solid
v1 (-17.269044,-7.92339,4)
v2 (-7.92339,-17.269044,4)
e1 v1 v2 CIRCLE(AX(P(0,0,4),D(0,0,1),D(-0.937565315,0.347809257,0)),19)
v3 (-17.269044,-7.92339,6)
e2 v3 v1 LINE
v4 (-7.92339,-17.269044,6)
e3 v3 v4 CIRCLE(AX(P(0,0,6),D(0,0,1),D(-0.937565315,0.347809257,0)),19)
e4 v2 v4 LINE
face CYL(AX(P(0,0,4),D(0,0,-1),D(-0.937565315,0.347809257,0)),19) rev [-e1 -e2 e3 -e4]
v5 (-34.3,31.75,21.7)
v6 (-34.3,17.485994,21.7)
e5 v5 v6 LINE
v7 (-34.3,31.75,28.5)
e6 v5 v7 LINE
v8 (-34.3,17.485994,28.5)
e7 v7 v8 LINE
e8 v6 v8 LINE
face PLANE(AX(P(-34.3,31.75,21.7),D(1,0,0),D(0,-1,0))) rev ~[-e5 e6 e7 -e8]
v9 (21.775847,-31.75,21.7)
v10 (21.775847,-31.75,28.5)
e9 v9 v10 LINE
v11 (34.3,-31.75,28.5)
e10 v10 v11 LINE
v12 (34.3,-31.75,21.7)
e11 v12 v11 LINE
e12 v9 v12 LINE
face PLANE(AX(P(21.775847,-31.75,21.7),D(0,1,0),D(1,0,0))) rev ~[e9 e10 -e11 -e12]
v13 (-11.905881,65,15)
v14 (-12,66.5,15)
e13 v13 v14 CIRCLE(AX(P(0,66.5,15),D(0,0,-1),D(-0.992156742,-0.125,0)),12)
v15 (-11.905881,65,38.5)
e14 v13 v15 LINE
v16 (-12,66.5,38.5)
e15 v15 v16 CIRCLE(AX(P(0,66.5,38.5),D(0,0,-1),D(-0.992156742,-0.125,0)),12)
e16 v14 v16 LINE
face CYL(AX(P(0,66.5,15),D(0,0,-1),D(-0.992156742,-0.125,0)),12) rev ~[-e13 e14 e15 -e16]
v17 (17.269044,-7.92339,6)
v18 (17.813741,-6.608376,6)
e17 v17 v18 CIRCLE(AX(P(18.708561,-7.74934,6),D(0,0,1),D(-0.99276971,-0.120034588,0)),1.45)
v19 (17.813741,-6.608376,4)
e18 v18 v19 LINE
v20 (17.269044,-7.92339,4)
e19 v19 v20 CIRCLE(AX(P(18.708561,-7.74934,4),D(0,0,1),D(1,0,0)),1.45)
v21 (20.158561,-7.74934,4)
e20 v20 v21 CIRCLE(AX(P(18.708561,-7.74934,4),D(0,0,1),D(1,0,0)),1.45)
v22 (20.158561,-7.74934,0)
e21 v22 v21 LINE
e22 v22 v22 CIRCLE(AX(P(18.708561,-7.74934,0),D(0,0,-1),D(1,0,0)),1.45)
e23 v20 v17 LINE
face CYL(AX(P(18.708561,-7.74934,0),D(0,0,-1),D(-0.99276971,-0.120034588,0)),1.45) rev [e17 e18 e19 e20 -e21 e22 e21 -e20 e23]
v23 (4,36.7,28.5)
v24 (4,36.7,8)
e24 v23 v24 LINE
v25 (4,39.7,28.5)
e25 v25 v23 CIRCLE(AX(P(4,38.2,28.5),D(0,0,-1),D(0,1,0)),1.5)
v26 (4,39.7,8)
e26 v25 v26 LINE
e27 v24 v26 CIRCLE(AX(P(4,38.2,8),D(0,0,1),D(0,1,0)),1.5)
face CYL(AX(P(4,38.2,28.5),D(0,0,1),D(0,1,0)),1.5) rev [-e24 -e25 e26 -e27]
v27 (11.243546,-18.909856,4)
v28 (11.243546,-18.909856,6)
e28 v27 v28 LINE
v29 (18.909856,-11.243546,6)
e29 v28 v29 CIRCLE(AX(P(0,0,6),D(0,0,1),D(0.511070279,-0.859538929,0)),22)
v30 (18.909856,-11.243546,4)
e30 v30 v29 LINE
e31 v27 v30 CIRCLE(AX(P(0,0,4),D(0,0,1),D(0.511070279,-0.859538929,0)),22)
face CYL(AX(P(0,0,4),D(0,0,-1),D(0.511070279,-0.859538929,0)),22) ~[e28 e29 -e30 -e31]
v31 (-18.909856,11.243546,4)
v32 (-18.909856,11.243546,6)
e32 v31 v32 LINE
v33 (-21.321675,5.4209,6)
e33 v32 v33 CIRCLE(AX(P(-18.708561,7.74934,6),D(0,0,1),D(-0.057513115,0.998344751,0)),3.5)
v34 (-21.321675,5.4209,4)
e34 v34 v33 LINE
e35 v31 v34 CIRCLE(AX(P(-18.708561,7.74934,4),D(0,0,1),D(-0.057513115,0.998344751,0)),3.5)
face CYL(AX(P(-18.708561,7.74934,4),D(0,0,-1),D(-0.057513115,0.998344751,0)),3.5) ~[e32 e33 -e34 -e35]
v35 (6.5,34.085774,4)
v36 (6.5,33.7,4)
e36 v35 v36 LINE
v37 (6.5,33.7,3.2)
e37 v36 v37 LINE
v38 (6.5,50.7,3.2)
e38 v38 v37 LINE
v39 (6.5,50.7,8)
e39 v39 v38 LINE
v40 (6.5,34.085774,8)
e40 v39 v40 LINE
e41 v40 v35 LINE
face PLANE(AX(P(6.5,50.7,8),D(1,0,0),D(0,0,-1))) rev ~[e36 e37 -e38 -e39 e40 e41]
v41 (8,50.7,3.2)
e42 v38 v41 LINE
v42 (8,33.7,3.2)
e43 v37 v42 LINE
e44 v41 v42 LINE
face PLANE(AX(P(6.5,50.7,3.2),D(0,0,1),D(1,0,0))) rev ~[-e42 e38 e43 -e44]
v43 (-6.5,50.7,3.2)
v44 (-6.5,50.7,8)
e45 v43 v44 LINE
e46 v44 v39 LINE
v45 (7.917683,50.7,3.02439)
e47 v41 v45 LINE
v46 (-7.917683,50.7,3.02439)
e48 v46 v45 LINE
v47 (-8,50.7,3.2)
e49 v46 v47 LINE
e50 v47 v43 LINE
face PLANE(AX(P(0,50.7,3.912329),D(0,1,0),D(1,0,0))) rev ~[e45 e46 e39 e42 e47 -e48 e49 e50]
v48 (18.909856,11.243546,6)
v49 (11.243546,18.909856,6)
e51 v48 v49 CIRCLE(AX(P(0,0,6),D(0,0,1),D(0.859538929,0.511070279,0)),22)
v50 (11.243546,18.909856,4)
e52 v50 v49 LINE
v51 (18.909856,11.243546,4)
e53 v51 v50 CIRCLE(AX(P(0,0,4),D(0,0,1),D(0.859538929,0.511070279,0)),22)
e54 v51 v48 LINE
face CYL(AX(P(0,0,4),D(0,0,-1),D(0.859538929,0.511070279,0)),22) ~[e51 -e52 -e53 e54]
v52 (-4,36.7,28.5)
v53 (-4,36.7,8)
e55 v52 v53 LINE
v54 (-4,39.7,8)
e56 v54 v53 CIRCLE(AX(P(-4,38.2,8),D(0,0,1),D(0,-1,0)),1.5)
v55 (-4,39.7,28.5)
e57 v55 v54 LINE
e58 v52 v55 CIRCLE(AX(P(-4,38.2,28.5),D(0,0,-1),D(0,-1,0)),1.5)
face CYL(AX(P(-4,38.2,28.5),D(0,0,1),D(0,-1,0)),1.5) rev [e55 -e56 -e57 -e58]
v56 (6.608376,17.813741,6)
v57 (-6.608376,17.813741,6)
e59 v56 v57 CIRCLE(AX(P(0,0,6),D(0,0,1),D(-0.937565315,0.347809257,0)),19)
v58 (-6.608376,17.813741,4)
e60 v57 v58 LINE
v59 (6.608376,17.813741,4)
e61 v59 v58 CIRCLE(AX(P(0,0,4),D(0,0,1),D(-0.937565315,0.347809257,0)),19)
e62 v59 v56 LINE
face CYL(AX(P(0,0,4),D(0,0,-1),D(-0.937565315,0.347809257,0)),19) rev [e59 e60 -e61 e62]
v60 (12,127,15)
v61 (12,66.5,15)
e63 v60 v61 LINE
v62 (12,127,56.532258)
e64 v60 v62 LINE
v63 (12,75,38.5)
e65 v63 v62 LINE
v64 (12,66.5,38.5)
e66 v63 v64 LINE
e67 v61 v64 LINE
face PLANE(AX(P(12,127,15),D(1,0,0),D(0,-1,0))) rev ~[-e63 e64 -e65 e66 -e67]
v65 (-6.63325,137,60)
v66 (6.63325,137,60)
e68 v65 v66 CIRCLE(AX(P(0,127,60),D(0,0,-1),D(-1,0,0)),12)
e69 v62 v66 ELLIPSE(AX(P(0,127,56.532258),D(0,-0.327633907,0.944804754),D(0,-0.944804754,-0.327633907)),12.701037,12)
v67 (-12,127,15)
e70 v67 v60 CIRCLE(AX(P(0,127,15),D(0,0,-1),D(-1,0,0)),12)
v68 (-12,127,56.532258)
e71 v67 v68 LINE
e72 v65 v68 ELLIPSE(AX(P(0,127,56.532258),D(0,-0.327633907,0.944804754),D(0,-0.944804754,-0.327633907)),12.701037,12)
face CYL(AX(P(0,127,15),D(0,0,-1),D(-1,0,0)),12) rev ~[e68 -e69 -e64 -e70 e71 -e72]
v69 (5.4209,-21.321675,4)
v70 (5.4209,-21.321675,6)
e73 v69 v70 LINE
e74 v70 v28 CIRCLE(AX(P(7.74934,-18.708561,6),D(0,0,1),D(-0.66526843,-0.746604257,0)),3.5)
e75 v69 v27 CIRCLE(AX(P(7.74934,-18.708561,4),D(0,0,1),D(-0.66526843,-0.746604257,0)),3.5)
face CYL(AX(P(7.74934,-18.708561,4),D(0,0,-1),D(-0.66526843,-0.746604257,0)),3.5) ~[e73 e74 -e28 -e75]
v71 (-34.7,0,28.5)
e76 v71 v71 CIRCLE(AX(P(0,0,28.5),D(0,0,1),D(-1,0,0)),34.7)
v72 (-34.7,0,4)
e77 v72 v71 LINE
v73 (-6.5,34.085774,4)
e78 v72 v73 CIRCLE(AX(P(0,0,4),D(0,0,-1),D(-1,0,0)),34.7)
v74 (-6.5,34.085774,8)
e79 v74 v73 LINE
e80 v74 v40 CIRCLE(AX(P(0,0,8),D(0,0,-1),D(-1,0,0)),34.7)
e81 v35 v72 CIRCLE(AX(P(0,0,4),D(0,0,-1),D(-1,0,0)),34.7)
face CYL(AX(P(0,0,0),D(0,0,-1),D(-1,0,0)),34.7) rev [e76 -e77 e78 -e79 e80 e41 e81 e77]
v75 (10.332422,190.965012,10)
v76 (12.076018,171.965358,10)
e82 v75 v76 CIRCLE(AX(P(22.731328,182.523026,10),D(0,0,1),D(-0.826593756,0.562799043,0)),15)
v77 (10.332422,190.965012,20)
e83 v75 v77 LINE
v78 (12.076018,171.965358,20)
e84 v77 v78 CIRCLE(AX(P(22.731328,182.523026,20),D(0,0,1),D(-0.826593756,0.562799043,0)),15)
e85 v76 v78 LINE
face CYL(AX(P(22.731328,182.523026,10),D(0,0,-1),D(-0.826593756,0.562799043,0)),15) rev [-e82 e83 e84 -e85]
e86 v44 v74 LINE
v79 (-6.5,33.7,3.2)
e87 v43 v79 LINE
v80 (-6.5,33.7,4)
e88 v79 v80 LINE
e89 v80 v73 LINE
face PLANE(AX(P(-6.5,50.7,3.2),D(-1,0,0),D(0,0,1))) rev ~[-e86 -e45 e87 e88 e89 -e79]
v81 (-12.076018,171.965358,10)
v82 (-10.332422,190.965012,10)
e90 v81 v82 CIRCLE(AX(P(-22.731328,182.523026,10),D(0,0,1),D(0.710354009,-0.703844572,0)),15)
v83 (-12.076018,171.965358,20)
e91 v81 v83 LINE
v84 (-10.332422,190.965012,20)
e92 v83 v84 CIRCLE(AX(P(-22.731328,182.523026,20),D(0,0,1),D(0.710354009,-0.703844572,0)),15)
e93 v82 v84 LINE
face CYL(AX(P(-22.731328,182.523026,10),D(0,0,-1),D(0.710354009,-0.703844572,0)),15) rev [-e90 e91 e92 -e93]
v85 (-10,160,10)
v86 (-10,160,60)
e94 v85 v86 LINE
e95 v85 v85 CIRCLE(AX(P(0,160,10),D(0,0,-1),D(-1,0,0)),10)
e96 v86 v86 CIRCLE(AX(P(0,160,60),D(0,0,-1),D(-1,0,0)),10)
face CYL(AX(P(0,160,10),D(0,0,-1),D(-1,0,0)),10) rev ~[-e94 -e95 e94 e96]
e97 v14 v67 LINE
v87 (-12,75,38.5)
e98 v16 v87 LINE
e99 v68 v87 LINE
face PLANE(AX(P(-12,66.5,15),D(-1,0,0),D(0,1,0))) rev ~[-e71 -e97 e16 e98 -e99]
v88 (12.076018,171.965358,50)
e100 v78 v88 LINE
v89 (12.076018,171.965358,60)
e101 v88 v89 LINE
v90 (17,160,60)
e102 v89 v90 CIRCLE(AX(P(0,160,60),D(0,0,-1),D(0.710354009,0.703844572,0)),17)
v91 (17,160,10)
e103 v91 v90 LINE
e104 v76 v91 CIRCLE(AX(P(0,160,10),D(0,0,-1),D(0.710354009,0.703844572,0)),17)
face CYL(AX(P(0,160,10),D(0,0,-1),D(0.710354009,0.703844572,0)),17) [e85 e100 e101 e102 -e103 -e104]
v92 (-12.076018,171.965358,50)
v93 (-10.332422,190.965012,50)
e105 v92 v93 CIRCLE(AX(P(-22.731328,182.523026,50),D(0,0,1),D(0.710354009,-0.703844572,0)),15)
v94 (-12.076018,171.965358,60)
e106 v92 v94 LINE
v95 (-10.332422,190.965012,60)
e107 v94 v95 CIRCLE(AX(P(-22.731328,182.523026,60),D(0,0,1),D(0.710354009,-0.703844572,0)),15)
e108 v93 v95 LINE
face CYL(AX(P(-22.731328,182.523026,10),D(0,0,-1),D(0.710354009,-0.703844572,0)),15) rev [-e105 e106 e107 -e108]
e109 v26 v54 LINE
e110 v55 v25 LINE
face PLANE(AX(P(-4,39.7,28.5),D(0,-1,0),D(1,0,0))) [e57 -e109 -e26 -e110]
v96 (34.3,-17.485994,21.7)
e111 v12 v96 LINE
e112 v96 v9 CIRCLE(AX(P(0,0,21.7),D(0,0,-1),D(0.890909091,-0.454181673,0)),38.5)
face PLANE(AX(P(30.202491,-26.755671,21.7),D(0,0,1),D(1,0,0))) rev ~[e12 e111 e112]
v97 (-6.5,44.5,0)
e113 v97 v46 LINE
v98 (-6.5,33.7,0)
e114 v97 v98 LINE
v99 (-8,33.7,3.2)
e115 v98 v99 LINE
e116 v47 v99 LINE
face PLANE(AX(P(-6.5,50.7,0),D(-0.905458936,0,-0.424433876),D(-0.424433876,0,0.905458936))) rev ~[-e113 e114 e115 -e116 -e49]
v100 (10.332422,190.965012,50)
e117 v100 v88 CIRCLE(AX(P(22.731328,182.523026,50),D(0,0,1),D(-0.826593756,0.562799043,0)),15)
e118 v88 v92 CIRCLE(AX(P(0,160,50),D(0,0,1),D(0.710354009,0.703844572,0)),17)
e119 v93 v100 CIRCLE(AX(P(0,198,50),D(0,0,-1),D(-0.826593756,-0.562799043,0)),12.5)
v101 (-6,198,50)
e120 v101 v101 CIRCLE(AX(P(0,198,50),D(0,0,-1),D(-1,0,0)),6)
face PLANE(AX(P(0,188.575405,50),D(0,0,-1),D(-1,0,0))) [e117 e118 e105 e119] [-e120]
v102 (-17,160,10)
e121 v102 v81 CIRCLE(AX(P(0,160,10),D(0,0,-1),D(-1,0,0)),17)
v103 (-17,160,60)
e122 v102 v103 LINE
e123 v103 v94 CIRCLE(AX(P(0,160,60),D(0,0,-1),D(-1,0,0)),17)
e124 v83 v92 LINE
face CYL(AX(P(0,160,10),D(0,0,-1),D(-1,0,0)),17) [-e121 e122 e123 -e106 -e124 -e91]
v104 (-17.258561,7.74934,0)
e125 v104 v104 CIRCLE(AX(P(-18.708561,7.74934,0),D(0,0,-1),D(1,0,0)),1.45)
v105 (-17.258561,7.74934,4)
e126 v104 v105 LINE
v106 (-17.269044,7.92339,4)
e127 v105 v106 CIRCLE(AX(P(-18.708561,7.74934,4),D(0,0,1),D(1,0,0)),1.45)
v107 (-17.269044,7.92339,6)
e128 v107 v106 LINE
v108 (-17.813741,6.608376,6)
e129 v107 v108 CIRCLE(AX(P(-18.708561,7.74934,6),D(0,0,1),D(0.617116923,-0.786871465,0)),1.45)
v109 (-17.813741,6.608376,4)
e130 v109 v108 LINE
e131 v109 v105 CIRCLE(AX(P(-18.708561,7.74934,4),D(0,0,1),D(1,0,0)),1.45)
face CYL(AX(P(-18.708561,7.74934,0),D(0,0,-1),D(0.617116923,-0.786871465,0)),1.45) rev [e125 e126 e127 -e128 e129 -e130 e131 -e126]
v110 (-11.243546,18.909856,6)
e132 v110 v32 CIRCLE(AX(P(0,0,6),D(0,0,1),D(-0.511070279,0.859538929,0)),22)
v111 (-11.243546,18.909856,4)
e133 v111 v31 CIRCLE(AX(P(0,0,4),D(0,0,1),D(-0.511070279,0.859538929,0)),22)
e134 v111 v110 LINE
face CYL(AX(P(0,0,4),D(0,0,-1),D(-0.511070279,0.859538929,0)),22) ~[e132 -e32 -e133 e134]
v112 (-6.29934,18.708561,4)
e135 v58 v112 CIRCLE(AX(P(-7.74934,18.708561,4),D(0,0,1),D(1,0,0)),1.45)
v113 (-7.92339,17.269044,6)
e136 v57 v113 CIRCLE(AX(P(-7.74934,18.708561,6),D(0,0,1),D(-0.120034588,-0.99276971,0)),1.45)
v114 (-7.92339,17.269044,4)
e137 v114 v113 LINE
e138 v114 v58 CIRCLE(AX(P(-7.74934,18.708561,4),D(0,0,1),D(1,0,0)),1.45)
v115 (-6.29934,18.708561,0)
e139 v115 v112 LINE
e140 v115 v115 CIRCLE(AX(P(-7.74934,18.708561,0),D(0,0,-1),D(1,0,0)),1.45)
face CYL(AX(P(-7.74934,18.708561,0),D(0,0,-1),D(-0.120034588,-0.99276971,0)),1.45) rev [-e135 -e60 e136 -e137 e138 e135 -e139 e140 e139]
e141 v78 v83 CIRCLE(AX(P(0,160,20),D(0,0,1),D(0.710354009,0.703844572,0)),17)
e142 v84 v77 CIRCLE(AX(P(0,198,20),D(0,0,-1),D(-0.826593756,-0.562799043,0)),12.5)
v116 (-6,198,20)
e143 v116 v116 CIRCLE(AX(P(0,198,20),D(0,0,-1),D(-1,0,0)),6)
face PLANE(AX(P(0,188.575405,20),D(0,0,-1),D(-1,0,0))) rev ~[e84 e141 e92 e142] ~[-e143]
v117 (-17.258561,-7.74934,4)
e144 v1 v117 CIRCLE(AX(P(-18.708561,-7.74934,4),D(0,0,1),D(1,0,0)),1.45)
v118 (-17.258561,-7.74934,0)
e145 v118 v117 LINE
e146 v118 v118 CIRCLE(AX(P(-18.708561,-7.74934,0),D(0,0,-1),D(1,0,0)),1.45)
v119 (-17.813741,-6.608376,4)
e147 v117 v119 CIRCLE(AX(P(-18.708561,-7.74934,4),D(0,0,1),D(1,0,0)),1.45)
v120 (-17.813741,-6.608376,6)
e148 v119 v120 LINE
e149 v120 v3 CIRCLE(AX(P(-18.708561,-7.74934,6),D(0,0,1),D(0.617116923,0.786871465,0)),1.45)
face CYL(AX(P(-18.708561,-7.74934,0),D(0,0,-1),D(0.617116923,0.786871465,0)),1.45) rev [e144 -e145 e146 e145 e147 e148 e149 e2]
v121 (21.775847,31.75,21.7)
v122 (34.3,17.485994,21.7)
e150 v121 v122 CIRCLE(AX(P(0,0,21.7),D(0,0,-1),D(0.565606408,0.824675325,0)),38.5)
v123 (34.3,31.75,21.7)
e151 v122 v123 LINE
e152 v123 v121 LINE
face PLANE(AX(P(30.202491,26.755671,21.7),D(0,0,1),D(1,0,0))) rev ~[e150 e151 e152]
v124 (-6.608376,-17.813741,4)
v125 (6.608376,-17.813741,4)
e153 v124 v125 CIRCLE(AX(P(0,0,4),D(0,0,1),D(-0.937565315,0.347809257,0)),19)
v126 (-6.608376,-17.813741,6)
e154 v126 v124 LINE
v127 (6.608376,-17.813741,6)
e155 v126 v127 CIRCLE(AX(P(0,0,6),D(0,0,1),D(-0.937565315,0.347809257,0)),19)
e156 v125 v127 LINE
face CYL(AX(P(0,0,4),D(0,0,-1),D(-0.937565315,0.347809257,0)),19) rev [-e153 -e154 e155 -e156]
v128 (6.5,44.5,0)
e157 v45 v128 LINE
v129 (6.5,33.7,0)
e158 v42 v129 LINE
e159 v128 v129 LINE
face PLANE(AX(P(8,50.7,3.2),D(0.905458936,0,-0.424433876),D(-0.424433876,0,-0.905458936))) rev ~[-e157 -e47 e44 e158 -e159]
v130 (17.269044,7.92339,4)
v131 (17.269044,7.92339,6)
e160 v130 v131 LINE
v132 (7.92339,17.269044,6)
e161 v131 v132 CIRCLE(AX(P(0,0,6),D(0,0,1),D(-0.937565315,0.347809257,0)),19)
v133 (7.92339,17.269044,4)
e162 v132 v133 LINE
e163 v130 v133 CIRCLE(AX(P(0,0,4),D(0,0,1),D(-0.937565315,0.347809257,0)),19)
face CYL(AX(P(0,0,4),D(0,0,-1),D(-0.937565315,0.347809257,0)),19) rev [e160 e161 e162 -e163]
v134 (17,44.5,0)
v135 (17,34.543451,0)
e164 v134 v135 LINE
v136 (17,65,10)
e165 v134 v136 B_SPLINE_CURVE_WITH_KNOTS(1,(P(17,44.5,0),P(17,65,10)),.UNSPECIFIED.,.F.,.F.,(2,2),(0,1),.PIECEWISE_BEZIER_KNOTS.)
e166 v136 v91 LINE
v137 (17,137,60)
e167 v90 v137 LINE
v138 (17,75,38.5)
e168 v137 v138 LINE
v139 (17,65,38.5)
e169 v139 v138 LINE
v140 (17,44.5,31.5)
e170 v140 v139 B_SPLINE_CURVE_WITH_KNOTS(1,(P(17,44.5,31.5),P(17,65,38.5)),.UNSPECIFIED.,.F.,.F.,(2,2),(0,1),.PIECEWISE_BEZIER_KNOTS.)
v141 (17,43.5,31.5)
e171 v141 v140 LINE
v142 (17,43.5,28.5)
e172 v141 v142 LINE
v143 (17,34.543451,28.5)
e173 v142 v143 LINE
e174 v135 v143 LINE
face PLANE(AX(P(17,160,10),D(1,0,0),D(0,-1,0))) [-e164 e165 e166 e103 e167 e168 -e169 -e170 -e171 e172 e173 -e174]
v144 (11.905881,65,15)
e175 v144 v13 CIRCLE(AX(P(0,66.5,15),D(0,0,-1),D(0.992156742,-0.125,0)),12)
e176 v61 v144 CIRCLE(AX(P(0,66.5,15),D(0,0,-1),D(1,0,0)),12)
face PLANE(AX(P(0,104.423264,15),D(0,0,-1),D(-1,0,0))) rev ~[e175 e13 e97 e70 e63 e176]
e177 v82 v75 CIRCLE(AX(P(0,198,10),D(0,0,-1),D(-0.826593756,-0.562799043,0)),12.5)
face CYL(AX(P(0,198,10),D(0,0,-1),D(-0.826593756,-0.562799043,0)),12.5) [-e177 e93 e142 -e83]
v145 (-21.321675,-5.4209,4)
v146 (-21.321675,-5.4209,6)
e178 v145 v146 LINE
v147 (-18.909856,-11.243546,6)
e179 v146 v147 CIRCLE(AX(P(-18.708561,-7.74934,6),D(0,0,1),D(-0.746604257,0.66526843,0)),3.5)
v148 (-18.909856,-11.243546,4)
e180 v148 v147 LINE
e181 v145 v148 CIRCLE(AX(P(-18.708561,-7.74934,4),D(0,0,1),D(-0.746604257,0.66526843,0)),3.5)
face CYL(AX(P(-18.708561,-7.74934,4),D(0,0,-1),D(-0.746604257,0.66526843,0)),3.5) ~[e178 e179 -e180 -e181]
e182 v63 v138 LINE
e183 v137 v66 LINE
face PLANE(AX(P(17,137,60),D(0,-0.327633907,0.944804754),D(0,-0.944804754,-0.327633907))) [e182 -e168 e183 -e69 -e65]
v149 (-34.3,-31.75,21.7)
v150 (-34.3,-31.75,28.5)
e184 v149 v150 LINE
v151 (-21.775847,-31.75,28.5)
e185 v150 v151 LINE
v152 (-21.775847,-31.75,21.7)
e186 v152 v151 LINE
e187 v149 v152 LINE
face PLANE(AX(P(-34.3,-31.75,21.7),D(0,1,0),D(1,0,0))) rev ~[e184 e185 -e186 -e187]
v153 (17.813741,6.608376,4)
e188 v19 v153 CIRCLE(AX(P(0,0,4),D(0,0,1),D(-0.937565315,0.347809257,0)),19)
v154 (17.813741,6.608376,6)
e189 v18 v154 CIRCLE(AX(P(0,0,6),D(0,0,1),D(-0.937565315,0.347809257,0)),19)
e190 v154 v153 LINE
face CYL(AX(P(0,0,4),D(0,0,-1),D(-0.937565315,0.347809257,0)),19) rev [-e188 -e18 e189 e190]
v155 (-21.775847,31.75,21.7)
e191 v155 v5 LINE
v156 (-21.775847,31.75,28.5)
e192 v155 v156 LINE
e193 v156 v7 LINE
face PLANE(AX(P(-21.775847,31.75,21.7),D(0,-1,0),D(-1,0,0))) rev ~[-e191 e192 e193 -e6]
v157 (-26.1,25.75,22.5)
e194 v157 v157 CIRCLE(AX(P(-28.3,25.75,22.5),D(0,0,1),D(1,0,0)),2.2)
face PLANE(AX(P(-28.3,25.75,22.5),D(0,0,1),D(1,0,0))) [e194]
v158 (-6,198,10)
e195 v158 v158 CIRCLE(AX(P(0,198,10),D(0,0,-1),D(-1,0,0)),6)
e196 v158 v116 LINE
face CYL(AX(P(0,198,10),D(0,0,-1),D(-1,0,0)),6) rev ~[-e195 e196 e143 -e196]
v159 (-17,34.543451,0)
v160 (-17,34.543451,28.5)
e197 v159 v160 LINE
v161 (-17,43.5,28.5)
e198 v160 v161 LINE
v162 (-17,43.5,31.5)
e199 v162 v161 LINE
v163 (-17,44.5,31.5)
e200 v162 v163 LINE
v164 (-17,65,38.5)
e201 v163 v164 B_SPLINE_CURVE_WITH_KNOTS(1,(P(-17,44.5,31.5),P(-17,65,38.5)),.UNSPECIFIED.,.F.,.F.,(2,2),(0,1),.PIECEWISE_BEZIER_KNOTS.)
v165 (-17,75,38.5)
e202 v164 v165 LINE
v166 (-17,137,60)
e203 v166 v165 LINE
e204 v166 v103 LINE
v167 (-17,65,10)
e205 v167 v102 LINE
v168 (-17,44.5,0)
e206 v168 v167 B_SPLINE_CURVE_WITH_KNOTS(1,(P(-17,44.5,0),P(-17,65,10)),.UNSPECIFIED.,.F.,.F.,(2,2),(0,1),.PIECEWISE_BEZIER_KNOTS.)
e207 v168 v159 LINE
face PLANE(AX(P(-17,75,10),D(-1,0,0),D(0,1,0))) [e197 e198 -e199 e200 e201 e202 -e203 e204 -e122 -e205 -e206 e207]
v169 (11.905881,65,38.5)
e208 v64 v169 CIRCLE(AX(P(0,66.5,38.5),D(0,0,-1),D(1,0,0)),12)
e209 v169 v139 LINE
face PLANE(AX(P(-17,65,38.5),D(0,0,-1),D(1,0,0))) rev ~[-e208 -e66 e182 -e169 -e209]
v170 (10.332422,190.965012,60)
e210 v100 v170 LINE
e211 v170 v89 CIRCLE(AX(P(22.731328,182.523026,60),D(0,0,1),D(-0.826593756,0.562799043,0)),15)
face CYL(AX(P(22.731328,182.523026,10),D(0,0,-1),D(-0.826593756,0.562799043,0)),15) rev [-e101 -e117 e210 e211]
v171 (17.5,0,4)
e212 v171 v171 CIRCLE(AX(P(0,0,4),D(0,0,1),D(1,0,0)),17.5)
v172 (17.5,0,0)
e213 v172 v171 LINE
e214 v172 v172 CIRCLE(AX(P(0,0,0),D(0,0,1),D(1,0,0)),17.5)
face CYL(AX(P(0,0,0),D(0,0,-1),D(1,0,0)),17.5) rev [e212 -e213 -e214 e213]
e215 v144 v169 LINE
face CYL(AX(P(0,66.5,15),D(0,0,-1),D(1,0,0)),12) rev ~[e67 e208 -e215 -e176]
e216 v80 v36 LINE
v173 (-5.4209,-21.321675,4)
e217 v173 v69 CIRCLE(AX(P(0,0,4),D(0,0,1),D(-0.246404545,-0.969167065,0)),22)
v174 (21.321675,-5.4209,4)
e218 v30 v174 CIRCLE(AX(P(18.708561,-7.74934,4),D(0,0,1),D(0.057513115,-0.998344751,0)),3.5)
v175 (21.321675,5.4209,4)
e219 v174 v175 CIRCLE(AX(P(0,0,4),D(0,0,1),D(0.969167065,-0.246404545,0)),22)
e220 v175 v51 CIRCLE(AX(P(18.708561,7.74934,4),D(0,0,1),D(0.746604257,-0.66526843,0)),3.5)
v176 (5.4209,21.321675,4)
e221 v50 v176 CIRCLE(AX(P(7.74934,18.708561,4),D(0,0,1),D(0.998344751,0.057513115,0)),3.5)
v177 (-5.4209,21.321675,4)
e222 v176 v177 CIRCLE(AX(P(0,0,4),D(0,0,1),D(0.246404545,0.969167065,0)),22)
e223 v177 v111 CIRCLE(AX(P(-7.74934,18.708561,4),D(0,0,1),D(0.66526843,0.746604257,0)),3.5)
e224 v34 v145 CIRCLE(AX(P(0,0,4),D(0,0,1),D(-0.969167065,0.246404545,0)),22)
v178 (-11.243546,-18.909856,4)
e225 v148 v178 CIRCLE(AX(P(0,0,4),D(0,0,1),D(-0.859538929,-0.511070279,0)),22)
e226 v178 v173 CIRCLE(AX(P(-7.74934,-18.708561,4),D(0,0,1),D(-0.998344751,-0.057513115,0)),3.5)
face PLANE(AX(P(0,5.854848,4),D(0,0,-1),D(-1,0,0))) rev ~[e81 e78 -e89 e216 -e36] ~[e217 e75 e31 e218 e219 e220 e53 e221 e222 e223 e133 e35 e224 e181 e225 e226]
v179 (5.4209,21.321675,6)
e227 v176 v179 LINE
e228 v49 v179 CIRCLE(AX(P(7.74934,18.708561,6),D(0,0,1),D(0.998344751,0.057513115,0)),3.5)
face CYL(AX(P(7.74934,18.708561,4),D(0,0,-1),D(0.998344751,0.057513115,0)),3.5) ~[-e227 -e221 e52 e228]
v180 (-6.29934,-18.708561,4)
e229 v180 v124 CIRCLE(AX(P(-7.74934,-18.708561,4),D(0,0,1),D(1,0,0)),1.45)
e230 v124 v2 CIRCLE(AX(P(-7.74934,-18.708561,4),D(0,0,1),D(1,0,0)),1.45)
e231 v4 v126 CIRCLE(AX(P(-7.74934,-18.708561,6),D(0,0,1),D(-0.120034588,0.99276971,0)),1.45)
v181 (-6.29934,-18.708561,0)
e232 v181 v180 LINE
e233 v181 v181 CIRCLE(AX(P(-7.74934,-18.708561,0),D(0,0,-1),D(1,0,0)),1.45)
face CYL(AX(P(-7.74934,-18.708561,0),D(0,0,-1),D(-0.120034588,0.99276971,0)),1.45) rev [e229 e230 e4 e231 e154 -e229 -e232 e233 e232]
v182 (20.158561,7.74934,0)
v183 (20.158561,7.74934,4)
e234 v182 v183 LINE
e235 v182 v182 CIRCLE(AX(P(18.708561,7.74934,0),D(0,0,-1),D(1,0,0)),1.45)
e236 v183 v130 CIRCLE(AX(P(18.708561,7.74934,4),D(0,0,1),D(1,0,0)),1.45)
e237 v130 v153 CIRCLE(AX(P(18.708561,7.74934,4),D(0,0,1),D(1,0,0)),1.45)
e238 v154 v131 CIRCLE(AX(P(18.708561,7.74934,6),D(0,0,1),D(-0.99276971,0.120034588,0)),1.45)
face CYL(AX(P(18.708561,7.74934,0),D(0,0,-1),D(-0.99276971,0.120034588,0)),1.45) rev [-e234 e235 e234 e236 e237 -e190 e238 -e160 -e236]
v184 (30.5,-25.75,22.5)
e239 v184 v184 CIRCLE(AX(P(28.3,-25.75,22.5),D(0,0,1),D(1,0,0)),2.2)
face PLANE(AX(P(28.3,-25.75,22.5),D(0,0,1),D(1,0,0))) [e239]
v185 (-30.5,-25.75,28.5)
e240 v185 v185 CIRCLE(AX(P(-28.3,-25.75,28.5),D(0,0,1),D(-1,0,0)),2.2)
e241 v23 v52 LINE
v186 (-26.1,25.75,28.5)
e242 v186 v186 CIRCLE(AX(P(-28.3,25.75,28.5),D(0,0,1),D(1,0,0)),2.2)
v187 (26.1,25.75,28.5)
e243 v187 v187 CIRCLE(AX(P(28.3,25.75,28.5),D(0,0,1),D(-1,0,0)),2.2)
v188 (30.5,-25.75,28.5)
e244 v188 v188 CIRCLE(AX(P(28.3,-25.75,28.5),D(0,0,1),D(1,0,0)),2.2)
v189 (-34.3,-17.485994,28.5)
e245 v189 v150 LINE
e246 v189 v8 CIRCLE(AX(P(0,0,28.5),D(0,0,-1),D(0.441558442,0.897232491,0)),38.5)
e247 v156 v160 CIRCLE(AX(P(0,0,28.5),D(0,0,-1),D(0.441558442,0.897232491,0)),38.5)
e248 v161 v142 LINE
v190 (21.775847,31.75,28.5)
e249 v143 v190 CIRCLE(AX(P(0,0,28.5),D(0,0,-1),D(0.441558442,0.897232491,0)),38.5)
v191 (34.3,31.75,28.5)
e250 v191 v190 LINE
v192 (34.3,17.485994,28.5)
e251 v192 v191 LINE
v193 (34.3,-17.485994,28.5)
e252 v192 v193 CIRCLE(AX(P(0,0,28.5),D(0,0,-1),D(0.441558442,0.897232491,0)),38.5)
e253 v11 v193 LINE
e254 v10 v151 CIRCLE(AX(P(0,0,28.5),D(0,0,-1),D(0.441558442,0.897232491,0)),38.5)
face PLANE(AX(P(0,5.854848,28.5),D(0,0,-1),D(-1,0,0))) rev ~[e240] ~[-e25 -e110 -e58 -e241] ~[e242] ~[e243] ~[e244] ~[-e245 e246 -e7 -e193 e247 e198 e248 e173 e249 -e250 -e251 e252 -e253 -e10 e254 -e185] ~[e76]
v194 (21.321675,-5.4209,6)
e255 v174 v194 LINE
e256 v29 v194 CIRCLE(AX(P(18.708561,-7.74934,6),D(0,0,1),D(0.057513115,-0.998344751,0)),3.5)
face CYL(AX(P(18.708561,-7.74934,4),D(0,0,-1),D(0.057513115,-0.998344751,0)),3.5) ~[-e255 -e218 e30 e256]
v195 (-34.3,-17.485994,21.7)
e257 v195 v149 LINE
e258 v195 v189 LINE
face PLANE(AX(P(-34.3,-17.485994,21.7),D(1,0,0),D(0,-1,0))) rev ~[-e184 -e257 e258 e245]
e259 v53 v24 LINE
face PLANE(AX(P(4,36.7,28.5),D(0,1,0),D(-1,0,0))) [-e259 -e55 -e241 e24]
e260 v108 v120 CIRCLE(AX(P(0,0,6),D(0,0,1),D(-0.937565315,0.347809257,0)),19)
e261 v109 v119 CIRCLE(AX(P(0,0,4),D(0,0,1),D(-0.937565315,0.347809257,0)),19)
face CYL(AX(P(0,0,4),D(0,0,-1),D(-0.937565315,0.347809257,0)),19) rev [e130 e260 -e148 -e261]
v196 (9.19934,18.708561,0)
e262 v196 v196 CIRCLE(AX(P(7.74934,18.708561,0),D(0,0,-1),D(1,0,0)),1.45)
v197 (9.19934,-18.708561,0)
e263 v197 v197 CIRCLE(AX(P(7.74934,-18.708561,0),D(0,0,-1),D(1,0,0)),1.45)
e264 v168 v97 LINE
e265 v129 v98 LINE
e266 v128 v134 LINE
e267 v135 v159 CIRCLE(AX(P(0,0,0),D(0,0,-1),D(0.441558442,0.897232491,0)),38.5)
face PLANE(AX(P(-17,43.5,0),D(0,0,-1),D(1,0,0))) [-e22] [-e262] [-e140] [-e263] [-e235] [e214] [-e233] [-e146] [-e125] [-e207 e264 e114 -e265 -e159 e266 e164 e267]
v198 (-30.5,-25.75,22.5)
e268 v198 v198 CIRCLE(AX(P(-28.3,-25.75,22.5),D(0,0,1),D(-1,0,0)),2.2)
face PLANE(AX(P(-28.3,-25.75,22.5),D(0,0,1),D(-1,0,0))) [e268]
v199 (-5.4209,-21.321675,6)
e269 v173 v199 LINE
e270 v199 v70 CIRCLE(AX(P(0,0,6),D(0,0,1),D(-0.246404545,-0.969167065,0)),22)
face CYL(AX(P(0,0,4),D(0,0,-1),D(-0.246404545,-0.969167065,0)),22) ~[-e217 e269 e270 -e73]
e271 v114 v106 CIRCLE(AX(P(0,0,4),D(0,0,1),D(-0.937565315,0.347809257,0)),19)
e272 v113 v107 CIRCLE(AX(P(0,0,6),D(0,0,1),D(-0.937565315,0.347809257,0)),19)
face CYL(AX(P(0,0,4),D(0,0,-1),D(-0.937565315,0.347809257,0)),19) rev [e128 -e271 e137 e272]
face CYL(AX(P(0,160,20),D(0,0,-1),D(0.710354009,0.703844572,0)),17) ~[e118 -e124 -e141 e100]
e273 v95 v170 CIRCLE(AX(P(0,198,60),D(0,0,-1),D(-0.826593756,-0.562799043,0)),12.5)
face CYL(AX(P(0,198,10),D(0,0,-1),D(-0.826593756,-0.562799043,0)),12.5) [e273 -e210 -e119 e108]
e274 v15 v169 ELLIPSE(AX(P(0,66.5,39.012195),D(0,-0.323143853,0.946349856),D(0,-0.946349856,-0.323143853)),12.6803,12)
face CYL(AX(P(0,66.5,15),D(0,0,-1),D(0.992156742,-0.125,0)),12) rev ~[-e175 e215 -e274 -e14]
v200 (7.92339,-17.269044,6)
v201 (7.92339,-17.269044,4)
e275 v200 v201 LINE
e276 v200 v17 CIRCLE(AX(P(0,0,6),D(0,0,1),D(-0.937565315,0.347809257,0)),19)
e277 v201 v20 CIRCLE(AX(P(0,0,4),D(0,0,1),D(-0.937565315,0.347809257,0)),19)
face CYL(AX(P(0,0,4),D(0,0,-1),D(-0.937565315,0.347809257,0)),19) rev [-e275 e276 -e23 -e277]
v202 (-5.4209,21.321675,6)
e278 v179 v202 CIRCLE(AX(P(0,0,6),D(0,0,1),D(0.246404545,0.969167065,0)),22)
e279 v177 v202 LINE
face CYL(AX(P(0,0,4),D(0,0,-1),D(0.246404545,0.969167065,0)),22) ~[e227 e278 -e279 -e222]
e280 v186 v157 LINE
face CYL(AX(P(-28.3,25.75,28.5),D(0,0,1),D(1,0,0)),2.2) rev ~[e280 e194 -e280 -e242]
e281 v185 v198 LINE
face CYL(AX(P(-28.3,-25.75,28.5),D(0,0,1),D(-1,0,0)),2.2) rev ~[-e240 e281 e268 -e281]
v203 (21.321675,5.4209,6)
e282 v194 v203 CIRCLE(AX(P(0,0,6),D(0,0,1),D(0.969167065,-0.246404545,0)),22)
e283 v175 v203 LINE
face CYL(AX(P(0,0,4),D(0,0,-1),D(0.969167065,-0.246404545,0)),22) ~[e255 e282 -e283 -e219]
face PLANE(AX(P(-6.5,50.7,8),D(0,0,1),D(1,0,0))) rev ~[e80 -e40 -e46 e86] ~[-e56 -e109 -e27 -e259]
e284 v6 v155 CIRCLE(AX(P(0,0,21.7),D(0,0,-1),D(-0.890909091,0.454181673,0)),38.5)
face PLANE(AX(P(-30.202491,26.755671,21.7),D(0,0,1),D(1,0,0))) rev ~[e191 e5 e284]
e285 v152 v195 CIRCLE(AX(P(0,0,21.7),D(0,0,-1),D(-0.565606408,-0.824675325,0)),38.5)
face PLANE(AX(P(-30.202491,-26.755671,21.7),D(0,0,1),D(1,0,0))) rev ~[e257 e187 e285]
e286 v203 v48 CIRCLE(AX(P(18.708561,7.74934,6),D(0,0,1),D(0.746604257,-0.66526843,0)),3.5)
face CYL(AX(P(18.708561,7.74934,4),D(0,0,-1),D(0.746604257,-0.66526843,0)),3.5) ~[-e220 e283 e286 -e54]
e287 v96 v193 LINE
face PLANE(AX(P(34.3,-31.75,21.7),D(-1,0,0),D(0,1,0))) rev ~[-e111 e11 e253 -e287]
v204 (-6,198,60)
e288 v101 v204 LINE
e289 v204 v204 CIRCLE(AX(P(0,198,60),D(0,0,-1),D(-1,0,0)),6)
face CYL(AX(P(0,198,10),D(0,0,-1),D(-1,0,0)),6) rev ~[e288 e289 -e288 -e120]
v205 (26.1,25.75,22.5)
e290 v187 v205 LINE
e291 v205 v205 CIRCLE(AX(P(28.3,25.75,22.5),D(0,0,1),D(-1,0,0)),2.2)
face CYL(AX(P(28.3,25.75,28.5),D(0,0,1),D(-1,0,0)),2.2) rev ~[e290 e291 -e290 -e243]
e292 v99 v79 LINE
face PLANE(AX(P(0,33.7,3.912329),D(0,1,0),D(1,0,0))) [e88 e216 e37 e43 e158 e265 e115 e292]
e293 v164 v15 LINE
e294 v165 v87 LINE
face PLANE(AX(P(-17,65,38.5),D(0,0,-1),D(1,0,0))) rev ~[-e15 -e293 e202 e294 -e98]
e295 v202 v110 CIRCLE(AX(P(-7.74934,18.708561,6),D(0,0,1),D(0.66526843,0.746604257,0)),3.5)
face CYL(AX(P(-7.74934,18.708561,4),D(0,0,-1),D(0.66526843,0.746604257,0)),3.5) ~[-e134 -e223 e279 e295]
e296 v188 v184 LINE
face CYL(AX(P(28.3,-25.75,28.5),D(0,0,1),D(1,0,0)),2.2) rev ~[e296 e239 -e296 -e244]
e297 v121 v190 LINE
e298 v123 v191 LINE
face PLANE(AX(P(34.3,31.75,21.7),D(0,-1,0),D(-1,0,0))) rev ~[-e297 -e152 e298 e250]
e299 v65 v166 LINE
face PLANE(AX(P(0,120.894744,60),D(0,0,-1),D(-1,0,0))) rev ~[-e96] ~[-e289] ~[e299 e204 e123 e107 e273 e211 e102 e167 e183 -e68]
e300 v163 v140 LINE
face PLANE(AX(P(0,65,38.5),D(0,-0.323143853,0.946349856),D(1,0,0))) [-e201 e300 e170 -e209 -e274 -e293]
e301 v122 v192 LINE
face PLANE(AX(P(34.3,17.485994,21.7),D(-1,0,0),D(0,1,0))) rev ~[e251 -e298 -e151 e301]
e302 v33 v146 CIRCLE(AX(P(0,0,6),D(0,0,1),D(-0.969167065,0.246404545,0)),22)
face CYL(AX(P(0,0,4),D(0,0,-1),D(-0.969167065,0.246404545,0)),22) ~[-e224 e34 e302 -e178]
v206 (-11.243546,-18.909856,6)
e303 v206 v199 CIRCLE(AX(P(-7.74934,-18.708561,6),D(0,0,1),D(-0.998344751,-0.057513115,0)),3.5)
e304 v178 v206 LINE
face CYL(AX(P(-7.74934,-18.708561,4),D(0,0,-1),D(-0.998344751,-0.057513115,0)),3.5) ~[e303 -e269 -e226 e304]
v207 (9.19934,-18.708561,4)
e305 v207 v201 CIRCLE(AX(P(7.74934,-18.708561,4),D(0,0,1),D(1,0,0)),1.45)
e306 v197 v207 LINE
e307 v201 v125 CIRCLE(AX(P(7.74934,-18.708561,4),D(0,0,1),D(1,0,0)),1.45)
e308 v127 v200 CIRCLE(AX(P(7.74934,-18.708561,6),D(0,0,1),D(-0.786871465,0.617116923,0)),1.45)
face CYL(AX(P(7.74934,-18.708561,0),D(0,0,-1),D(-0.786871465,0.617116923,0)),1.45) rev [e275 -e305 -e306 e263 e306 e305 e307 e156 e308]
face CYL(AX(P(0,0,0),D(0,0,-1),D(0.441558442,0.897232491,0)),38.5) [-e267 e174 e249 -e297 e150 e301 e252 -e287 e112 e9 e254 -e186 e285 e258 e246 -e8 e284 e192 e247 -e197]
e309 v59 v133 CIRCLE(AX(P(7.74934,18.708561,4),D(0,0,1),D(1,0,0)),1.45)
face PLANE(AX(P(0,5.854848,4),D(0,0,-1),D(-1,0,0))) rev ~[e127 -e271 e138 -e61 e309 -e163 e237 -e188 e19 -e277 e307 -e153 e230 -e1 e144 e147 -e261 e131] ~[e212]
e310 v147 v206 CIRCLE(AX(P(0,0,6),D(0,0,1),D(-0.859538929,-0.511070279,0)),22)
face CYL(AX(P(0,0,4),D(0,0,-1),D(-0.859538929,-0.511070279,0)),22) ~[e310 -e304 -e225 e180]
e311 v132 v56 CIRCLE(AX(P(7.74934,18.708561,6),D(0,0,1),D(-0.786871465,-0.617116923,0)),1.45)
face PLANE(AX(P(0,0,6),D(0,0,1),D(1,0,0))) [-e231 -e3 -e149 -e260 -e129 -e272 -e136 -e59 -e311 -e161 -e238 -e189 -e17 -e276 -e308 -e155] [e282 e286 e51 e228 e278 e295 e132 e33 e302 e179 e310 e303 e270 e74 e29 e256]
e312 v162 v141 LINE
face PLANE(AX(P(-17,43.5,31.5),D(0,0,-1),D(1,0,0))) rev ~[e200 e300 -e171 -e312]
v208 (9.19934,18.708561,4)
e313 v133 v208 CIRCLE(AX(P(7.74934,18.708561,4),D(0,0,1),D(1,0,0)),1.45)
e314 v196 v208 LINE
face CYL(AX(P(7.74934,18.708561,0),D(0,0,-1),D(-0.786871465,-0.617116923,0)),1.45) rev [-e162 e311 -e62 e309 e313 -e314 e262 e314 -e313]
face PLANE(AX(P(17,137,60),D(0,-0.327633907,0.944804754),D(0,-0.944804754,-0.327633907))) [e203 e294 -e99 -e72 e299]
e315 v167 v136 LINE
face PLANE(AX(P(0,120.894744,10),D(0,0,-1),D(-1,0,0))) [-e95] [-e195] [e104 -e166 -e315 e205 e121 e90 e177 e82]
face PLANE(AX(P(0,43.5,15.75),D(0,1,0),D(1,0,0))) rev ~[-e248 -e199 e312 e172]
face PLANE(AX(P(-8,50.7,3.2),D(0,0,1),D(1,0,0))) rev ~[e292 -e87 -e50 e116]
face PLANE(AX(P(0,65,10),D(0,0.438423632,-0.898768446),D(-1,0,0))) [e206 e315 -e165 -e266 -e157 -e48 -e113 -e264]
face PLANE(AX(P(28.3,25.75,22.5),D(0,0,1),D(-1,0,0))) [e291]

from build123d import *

# Parameters (mm, degrees)
SKETCH1_R                = 17.5
SKETCH1_R_2              = 1.45
FRONTPANEL_DEPTH         = 4
SKETCH1_3_R              = 34.7
SIDEWALLS_DEPTH          = 28.5
SKETCH2_R                = 19
MOTORSPACER_DEPTH        = 2
SKETCH1_5_R              = 1.45
MOTORMOUNTINGHOLES_DEPTH = 6
BOSS_EXTRUDE7_START      = -6.8
BOSS_EXTRUDE7_DEPTH      = 6.8
SKETCH3_5_R              = 2.2
CUT_EXTRUDE2_DEPTH       = 6
CUT_EXTRUDE8_DEPTH       = 65.705100263
SKETCH11_W               = 34
SKETCH11_H               = 28.5
BOSS_EXTRUDE8_DEPTH      = 10
SKETCH14_W               = 34
SKETCH14_H               = 31.5
BOSS_EXTRUDE9_DEPTH      = 1
CUT_EXTRUDE11_DEPTH      = 1
CUT_EXTRUDE11_DEPTH_BACK = 16
SKETCH19_R               = 10
SKETCH19_R_2             = 6
BOSS_EXTRUDE10_DEPTH     = 50
CUT_EXTRUDE12_REACH      = 227.811
CUT_EXTRUDE14_START      = -5
CUT_EXTRUDE14_DEPTH      = 215.755546028
CUT_EXTRUDE15_START      = -10
SKETCH19_6_R             = 6
CUT_EXTRUDE15_DEPTH      = 30


with BuildPart() as part:
    # Sketch1 → FrontPanel (new body)
    with BuildSketch(Plane.XY):
        with BuildLine():
            Line((-17, 34.543450899), (-17, 43.5))
            Line((-17, 43.5), (17, 43.5))
            Line((17, 43.5), (17, 34.543450899))
            ThreePointArc((17, 34.543450899), (0, -38.5), (-17, 34.543450899))
        make_face()
        Circle(SKETCH1_R, mode=Mode.SUBTRACT)
        with Locations((-7.749339505, 18.708560533)):
            Circle(SKETCH1_R_2, mode=Mode.SUBTRACT)
        with Locations((7.749339505, 18.708560533)):
            Circle(SKETCH1_R_2, mode=Mode.SUBTRACT)
        with Locations((18.708560533, 7.749339505)):
            Circle(SKETCH1_R_2, mode=Mode.SUBTRACT)
        with Locations((18.708560533, -7.749339505)):
            Circle(SKETCH1_R_2, mode=Mode.SUBTRACT)
        with Locations((7.749339505, -18.708560533)):
            Circle(SKETCH1_R_2, mode=Mode.SUBTRACT)
        with Locations((-7.749339505, -18.708560533)):
            Circle(SKETCH1_R_2, mode=Mode.SUBTRACT)
        with Locations((-18.708560533, -7.749339505)):
            Circle(SKETCH1_R_2, mode=Mode.SUBTRACT)
        with Locations((-18.708560533, 7.749339505)):
            Circle(SKETCH1_R_2, mode=Mode.SUBTRACT)
    extrude(amount=FRONTPANEL_DEPTH)

    # Sketch1<3> → SideWalls (add)
    with BuildSketch(Plane.XY):
        with BuildLine():
            Line((-17, 34.543450899), (-17, 43.5))
            Line((-17, 43.5), (17, 43.5))
            Line((17, 43.5), (17, 34.543450899))
            ThreePointArc((17, 34.543450899), (0, -38.5), (-17, 34.543450899))
        make_face()
        with Locations(Location((0, 0, 0), (0, 0, 180))):
            Circle(SKETCH1_3_R, mode=Mode.SUBTRACT)
    extrude(amount=SIDEWALLS_DEPTH)

    # Sketch2 → MotorSpacer (add)
    with BuildSketch(Plane.XY.offset(4)):
        with BuildLine():
            ThreePointArc((-5.4209, 21.321675431), (-9.088731519, 21.942138897), (-11.243546134, 18.909856434))
            ThreePointArc((-11.243546134, 18.909856434), (-15.556349186, 15.556349186), (-18.909856434, 11.243546134))
            ThreePointArc((-18.909856434, 11.243546134), (-21.942138897, 9.088731519), (-21.321675431, 5.4209))
            ThreePointArc((-21.321675431, 5.4209), (-22, 0), (-21.321675431, -5.4209))
            ThreePointArc((-21.321675431, -5.4209), (-21.942138897, -9.088731519), (-18.909856434, -11.243546134))
            ThreePointArc((-18.909856434, -11.243546134), (-15.556349186, -15.556349186), (-11.243546134, -18.909856434))
            ThreePointArc((-11.243546134, -18.909856434), (-9.088731519, -21.942138897), (-5.4209, -21.321675431))
            ThreePointArc((-5.4209, -21.321675431), (0, -22), (5.4209, -21.321675431))
            ThreePointArc((5.4209, -21.321675431), (9.088731519, -21.942138897), (11.243546134, -18.909856434))
            ThreePointArc((11.243546134, -18.909856434), (15.556349186, -15.556349186), (18.909856434, -11.243546134))
            ThreePointArc((18.909856434, -11.243546134), (21.942138897, -9.088731519), (21.321675431, -5.4209))
            ThreePointArc((21.321675431, -5.4209), (22, 0), (21.321675431, 5.4209))
            ThreePointArc((21.321675431, 5.4209), (21.942138897, 9.088731519), (18.909856434, 11.243546134))
            ThreePointArc((18.909856434, 11.243546134), (15.556349186, 15.556349186), (11.243546134, 18.909856434))
            ThreePointArc((11.243546134, 18.909856434), (9.088731519, 21.942138897), (5.4209, 21.321675431))
            ThreePointArc((5.4209, 21.321675431), (0, 22), (-5.4209, 21.321675431))
        make_face()
        with Locations(Location((0, 0, 0), (0, 0, 159.646622112))):
            Circle(SKETCH2_R, mode=Mode.SUBTRACT)
    extrude(amount=MOTORSPACER_DEPTH)

    # Sketch1<5> → MotorMountingHoles (cut)
    with BuildSketch(Plane.XY):
        with Locations(Location((-7.749339505, 18.708560533, 0), (0, 0, 263.105901259))):
            Circle(SKETCH1_5_R)
        with Locations(Location((7.749339505, 18.708560533, 0), (0, 0, 218.105901259))):
            Circle(SKETCH1_5_R)
        with Locations(Location((18.708560533, 7.749339505, 0), (0, 0, 173.105901259))):
            Circle(SKETCH1_5_R)
        with Locations(Location((18.708560533, -7.749339505, 0), (0, 0, 186.894098741))):
            Circle(SKETCH1_5_R)
        with Locations(Location((7.749339505, -18.708560533, 0), (0, 0, 141.894098741))):
            Circle(SKETCH1_5_R)
        with Locations(Location((-7.749339505, -18.708560533, 0), (0, 0, 96.894098741))):
            Circle(SKETCH1_5_R)
        with Locations(Location((-18.708560533, -7.749339505, 0), (0, 0, 51.894098741))):
            Circle(SKETCH1_5_R)
        with Locations(Location((-18.708560533, 7.749339505, 0), (0, 0, 308.105901259))):
            Circle(SKETCH1_5_R)
    extrude(amount=MOTORMOUNTINGHOLES_DEPTH, mode=Mode.SUBTRACT)

    # Sketch3 → Boss-Extrude7 (add)
    with BuildSketch(Plane.XY.offset(28.5).offset(BOSS_EXTRUDE7_START)):
        with BuildLine():
            Line((-21.775846711, 31.75), (-34.3, 31.75))
            Line((-34.3, 31.75), (-34.3, 17.485994396))
            ThreePointArc((-34.3, 17.485994396), (-28.930790001, 25.401956419), (-21.775846711, 31.75))
        make_face()
        with BuildLine():
            Line((34.3, 17.485994396), (34.3, 31.75))
            Line((34.3, 31.75), (21.775846711, 31.75))
            ThreePointArc((21.775846711, 31.75), (28.930790001, 25.401956419), (34.3, 17.485994396))
        make_face()
        with BuildLine():
            Line((-34.3, -17.485994396), (-34.3, -31.75))
            Line((-34.3, -31.75), (-21.775846711, -31.75))
            ThreePointArc((-21.775846711, -31.75), (-28.930790001, -25.401956419), (-34.3, -17.485994396))
        make_face()
        with BuildLine():
            Line((21.775846711, -31.75), (34.3, -31.75))
            Line((34.3, -31.75), (34.3, -17.485994396))
            ThreePointArc((34.3, -17.485994396), (28.930790001, -25.401956419), (21.775846711, -31.75))
        make_face()
    extrude(amount=BOSS_EXTRUDE7_DEPTH)

    # Sketch3<5> → Cut-Extrude2 (cut)
    with BuildSketch(Plane.XY.offset(28.5)):
        with Locations((-28.3, 25.75)):
            Circle(SKETCH3_5_R)
        with Locations(Location((28.3, 25.75, 0), (0, 0, 180))):
            Circle(SKETCH3_5_R)
        with Locations(Location((-28.3, -25.75, 0), (0, 0, 180))):
            Circle(SKETCH3_5_R)
        with Locations((28.3, -25.75)):
            Circle(SKETCH3_5_R)
    extrude(amount=-CUT_EXTRUDE2_DEPTH, mode=Mode.SUBTRACT)

    # Sketch7 → Cut-Extrude8 (cut, through all)
    with BuildSketch(Plane.XY.offset(28.5)):
        with BuildLine():
            Line((-4, 39.7), (4, 39.7))
            ThreePointArc((4, 39.7), (5.5, 38.2), (4, 36.7))
            Line((4, 36.7), (-4, 36.7))
            ThreePointArc((-4, 36.7), (-5.5, 38.2), (-4, 39.7))
        make_face()
    extrude(amount=-CUT_EXTRUDE8_DEPTH, mode=Mode.SUBTRACT)

    # Sketch14 → Boss-Extrude9 (add)
    with BuildSketch(Plane(origin=(0, 43.5, 0), x_dir=(1, 0, 0), z_dir=(0, 1, 0))):
        with Locations((0, -15.75)):
            Rectangle(SKETCH14_W, SKETCH14_H)
    extrude(amount=BOSS_EXTRUDE9_DEPTH)



with BuildPart() as body_2:
    # Sketch11 → Boss-Extrude8 (new body)
    with BuildSketch(Plane(origin=(0, 65, 0), x_dir=(1, 0, 0), z_dir=(0, 1, 0))):
        with Locations((0, -24.25)):
            Rectangle(SKETCH11_W, SKETCH11_H)
    extrude(amount=BOSS_EXTRUDE8_DEPTH)


with BuildPart() as part_1:
    add(part.part)

    add(body_2.part)  # loft5 joins it to this body
    # loft from a face of the part (loft5)
    loft([part_1.faces().sort_by_distance((0, 44.5, 15.75))[0], part_1.faces().sort_by_distance((0, 65, 24.25))[0]])

    # Sketch9 → Cut-Extrude11 (cut, two sides: drawn at the far end of the back side and taken through both)
    with BuildSketch(Plane(origin=(0, 34.7, 0), x_dir=(-1, 0, 0), z_dir=(0, -1, 0)).offset(-CUT_EXTRUDE11_DEPTH_BACK)):
        Polygon((-6.5, 0), (6.5, 0), (8, -3.2), (6.5, -3.2), (6.5, -8), (-6.5, -8), (-6.5, -3.2), (-8, -3.2), align=None)
    extrude(amount=CUT_EXTRUDE11_DEPTH + CUT_EXTRUDE11_DEPTH_BACK, mode=Mode.SUBTRACT)

    # Sketch19 → Boss-Extrude10 (add)
    # profile 1 of 3: a face of its own
    with BuildSketch(Plane(origin=(0, 0, 10), x_dir=(-1, 0, 0), z_dir=(0, 0, -1))):
        with BuildLine():
            Line((-17, 160), (-17, 75))
            Line((-17, 75), (-12, 75))
            Line((-12, 75), (-12, 127))
            ThreePointArc((-12, 127), (0, 139), (12, 127))
            Line((12, 127), (12, 75))
            Line((12, 75), (17, 75))
            Line((17, 75), (17, 160))
            ThreePointArc((17, 160), (15.720882745, 166.469454824), (12.076018151, 171.96535773))
            ThreePointArc((12.076018151, 171.96535773), (0, 177), (-12.076018151, 171.96535773))
            ThreePointArc((-12.076018151, 171.96535773), (-15.720882745, 166.469454824), (-17, 160))
        make_face()
        with Locations((0, 160)):
            Circle(SKETCH19_R, mode=Mode.SUBTRACT)
    # profile 2 of 3: a face of its own
    with BuildSketch(Plane(origin=(0, 0, 10), x_dir=(-1, 0, 0), z_dir=(0, 0, -1))):
        with BuildLine():
            Line((-12, 127), (-12, 75))
            Line((-12, 75), (12, 75))
            Line((12, 75), (12, 127))
            ThreePointArc((12, 127), (0, 139), (-12, 127))
        make_face()
    # profile 3 of 3: a face of its own
    with BuildSketch(Plane(origin=(0, 0, 10), x_dir=(-1, 0, 0), z_dir=(0, 0, -1))):
        with BuildLine():
            ThreePointArc((-10.332421948, 190.965011962), (-7.794094957, 181.152238037), (-12.076018151, 171.96535773))
            ThreePointArc((-12.076018151, 171.96535773), (0, 177), (12.076018151, 171.96535773))
            ThreePointArc((12.076018151, 171.96535773), (7.794094957, 181.152238037), (10.332421948, 190.965011962))
            ThreePointArc((10.332421948, 190.965011962), (0, 210.5), (-10.332421948, 190.965011962))
        make_face()
        with Locations((0, 198)):
            Circle(SKETCH19_R_2, mode=Mode.SUBTRACT)
    extrude(amount=-BOSS_EXTRUDE10_DEPTH)

    # Sketch21 → Cut-Extrude12 (cut, up to next)
    with BuildSketch(Plane(origin=(17, 0, 0), x_dir=(0, 0, -1), z_dir=(1, 0, 0)), mode=Mode.PRIVATE) as cut_extrude12_sk1:
        Polygon((-38.5, 75), (-60, 75), (-60, 137), align=None)
    cut_extrude12_tool1 = extrude(cut_extrude12_sk1.sketch, amount=-CUT_EXTRUDE12_REACH, mode=Mode.PRIVATE) & part_1.part
    add(cut_extrude12_tool1.solids().sort_by_distance((17, 95.666667, 52.833333))[0], mode=Mode.SUBTRACT)

    # Sketch19<5> → Cut-Extrude14 (cut, through all)
    with BuildSketch(Plane(origin=(0, 0, 10), x_dir=(-1, 0, 0), z_dir=(0, 0, -1)).offset(CUT_EXTRUDE14_START)):
        with BuildLine():
            Line((-12, 127), (-12, 75))
            Line((-12, 75), (12, 75))
            Line((12, 75), (12, 127))
            ThreePointArc((12, 127), (0, 139), (-12, 127))
        make_face()
        with BuildLine():
            Line((12, 75), (-12, 75))
            Line((-12, 75), (-12, 66.5))
            ThreePointArc((-12, 66.5), (-11.976447111, 65.748525049), (-11.9058809, 65))
            Line((-11.9058809, 65), (11.9058809, 65))
            ThreePointArc((11.9058809, 65), (11.976447111, 65.748525049), (12, 66.5))
            Line((12, 66.5), (12, 75))
        make_face()
        with BuildLine():
            Line((11.9058809, 65), (-11.9058809, 65))
            ThreePointArc((-11.9058809, 65), (0, 54.5), (11.9058809, 65))
        make_face()
    extrude(amount=-CUT_EXTRUDE14_DEPTH, mode=Mode.SUBTRACT)

    # Sketch19<6> → Cut-Extrude15 (cut)
    with BuildSketch(Plane(origin=(0, 0, 10), x_dir=(-1, 0, 0), z_dir=(0, 0, -1)).offset(CUT_EXTRUDE15_START)):
        with BuildLine():
            ThreePointArc((-10.332421948, 190.965011962), (-7.794094957, 181.152238037), (-12.076018151, 171.96535773))
            ThreePointArc((-12.076018151, 171.96535773), (0, 177), (12.076018151, 171.96535773))
            ThreePointArc((12.076018151, 171.96535773), (7.794094957, 181.152238037), (10.332421948, 190.965011962))
            ThreePointArc((10.332421948, 190.965011962), (0, 210.5), (-10.332421948, 190.965011962))
        make_face()
        with Locations((0, 198)):
            Circle(SKETCH19_6_R, mode=Mode.SUBTRACT)
    extrude(amount=-CUT_EXTRUDE15_DEPTH, mode=Mode.SUBTRACT)


solid = part_1.part
